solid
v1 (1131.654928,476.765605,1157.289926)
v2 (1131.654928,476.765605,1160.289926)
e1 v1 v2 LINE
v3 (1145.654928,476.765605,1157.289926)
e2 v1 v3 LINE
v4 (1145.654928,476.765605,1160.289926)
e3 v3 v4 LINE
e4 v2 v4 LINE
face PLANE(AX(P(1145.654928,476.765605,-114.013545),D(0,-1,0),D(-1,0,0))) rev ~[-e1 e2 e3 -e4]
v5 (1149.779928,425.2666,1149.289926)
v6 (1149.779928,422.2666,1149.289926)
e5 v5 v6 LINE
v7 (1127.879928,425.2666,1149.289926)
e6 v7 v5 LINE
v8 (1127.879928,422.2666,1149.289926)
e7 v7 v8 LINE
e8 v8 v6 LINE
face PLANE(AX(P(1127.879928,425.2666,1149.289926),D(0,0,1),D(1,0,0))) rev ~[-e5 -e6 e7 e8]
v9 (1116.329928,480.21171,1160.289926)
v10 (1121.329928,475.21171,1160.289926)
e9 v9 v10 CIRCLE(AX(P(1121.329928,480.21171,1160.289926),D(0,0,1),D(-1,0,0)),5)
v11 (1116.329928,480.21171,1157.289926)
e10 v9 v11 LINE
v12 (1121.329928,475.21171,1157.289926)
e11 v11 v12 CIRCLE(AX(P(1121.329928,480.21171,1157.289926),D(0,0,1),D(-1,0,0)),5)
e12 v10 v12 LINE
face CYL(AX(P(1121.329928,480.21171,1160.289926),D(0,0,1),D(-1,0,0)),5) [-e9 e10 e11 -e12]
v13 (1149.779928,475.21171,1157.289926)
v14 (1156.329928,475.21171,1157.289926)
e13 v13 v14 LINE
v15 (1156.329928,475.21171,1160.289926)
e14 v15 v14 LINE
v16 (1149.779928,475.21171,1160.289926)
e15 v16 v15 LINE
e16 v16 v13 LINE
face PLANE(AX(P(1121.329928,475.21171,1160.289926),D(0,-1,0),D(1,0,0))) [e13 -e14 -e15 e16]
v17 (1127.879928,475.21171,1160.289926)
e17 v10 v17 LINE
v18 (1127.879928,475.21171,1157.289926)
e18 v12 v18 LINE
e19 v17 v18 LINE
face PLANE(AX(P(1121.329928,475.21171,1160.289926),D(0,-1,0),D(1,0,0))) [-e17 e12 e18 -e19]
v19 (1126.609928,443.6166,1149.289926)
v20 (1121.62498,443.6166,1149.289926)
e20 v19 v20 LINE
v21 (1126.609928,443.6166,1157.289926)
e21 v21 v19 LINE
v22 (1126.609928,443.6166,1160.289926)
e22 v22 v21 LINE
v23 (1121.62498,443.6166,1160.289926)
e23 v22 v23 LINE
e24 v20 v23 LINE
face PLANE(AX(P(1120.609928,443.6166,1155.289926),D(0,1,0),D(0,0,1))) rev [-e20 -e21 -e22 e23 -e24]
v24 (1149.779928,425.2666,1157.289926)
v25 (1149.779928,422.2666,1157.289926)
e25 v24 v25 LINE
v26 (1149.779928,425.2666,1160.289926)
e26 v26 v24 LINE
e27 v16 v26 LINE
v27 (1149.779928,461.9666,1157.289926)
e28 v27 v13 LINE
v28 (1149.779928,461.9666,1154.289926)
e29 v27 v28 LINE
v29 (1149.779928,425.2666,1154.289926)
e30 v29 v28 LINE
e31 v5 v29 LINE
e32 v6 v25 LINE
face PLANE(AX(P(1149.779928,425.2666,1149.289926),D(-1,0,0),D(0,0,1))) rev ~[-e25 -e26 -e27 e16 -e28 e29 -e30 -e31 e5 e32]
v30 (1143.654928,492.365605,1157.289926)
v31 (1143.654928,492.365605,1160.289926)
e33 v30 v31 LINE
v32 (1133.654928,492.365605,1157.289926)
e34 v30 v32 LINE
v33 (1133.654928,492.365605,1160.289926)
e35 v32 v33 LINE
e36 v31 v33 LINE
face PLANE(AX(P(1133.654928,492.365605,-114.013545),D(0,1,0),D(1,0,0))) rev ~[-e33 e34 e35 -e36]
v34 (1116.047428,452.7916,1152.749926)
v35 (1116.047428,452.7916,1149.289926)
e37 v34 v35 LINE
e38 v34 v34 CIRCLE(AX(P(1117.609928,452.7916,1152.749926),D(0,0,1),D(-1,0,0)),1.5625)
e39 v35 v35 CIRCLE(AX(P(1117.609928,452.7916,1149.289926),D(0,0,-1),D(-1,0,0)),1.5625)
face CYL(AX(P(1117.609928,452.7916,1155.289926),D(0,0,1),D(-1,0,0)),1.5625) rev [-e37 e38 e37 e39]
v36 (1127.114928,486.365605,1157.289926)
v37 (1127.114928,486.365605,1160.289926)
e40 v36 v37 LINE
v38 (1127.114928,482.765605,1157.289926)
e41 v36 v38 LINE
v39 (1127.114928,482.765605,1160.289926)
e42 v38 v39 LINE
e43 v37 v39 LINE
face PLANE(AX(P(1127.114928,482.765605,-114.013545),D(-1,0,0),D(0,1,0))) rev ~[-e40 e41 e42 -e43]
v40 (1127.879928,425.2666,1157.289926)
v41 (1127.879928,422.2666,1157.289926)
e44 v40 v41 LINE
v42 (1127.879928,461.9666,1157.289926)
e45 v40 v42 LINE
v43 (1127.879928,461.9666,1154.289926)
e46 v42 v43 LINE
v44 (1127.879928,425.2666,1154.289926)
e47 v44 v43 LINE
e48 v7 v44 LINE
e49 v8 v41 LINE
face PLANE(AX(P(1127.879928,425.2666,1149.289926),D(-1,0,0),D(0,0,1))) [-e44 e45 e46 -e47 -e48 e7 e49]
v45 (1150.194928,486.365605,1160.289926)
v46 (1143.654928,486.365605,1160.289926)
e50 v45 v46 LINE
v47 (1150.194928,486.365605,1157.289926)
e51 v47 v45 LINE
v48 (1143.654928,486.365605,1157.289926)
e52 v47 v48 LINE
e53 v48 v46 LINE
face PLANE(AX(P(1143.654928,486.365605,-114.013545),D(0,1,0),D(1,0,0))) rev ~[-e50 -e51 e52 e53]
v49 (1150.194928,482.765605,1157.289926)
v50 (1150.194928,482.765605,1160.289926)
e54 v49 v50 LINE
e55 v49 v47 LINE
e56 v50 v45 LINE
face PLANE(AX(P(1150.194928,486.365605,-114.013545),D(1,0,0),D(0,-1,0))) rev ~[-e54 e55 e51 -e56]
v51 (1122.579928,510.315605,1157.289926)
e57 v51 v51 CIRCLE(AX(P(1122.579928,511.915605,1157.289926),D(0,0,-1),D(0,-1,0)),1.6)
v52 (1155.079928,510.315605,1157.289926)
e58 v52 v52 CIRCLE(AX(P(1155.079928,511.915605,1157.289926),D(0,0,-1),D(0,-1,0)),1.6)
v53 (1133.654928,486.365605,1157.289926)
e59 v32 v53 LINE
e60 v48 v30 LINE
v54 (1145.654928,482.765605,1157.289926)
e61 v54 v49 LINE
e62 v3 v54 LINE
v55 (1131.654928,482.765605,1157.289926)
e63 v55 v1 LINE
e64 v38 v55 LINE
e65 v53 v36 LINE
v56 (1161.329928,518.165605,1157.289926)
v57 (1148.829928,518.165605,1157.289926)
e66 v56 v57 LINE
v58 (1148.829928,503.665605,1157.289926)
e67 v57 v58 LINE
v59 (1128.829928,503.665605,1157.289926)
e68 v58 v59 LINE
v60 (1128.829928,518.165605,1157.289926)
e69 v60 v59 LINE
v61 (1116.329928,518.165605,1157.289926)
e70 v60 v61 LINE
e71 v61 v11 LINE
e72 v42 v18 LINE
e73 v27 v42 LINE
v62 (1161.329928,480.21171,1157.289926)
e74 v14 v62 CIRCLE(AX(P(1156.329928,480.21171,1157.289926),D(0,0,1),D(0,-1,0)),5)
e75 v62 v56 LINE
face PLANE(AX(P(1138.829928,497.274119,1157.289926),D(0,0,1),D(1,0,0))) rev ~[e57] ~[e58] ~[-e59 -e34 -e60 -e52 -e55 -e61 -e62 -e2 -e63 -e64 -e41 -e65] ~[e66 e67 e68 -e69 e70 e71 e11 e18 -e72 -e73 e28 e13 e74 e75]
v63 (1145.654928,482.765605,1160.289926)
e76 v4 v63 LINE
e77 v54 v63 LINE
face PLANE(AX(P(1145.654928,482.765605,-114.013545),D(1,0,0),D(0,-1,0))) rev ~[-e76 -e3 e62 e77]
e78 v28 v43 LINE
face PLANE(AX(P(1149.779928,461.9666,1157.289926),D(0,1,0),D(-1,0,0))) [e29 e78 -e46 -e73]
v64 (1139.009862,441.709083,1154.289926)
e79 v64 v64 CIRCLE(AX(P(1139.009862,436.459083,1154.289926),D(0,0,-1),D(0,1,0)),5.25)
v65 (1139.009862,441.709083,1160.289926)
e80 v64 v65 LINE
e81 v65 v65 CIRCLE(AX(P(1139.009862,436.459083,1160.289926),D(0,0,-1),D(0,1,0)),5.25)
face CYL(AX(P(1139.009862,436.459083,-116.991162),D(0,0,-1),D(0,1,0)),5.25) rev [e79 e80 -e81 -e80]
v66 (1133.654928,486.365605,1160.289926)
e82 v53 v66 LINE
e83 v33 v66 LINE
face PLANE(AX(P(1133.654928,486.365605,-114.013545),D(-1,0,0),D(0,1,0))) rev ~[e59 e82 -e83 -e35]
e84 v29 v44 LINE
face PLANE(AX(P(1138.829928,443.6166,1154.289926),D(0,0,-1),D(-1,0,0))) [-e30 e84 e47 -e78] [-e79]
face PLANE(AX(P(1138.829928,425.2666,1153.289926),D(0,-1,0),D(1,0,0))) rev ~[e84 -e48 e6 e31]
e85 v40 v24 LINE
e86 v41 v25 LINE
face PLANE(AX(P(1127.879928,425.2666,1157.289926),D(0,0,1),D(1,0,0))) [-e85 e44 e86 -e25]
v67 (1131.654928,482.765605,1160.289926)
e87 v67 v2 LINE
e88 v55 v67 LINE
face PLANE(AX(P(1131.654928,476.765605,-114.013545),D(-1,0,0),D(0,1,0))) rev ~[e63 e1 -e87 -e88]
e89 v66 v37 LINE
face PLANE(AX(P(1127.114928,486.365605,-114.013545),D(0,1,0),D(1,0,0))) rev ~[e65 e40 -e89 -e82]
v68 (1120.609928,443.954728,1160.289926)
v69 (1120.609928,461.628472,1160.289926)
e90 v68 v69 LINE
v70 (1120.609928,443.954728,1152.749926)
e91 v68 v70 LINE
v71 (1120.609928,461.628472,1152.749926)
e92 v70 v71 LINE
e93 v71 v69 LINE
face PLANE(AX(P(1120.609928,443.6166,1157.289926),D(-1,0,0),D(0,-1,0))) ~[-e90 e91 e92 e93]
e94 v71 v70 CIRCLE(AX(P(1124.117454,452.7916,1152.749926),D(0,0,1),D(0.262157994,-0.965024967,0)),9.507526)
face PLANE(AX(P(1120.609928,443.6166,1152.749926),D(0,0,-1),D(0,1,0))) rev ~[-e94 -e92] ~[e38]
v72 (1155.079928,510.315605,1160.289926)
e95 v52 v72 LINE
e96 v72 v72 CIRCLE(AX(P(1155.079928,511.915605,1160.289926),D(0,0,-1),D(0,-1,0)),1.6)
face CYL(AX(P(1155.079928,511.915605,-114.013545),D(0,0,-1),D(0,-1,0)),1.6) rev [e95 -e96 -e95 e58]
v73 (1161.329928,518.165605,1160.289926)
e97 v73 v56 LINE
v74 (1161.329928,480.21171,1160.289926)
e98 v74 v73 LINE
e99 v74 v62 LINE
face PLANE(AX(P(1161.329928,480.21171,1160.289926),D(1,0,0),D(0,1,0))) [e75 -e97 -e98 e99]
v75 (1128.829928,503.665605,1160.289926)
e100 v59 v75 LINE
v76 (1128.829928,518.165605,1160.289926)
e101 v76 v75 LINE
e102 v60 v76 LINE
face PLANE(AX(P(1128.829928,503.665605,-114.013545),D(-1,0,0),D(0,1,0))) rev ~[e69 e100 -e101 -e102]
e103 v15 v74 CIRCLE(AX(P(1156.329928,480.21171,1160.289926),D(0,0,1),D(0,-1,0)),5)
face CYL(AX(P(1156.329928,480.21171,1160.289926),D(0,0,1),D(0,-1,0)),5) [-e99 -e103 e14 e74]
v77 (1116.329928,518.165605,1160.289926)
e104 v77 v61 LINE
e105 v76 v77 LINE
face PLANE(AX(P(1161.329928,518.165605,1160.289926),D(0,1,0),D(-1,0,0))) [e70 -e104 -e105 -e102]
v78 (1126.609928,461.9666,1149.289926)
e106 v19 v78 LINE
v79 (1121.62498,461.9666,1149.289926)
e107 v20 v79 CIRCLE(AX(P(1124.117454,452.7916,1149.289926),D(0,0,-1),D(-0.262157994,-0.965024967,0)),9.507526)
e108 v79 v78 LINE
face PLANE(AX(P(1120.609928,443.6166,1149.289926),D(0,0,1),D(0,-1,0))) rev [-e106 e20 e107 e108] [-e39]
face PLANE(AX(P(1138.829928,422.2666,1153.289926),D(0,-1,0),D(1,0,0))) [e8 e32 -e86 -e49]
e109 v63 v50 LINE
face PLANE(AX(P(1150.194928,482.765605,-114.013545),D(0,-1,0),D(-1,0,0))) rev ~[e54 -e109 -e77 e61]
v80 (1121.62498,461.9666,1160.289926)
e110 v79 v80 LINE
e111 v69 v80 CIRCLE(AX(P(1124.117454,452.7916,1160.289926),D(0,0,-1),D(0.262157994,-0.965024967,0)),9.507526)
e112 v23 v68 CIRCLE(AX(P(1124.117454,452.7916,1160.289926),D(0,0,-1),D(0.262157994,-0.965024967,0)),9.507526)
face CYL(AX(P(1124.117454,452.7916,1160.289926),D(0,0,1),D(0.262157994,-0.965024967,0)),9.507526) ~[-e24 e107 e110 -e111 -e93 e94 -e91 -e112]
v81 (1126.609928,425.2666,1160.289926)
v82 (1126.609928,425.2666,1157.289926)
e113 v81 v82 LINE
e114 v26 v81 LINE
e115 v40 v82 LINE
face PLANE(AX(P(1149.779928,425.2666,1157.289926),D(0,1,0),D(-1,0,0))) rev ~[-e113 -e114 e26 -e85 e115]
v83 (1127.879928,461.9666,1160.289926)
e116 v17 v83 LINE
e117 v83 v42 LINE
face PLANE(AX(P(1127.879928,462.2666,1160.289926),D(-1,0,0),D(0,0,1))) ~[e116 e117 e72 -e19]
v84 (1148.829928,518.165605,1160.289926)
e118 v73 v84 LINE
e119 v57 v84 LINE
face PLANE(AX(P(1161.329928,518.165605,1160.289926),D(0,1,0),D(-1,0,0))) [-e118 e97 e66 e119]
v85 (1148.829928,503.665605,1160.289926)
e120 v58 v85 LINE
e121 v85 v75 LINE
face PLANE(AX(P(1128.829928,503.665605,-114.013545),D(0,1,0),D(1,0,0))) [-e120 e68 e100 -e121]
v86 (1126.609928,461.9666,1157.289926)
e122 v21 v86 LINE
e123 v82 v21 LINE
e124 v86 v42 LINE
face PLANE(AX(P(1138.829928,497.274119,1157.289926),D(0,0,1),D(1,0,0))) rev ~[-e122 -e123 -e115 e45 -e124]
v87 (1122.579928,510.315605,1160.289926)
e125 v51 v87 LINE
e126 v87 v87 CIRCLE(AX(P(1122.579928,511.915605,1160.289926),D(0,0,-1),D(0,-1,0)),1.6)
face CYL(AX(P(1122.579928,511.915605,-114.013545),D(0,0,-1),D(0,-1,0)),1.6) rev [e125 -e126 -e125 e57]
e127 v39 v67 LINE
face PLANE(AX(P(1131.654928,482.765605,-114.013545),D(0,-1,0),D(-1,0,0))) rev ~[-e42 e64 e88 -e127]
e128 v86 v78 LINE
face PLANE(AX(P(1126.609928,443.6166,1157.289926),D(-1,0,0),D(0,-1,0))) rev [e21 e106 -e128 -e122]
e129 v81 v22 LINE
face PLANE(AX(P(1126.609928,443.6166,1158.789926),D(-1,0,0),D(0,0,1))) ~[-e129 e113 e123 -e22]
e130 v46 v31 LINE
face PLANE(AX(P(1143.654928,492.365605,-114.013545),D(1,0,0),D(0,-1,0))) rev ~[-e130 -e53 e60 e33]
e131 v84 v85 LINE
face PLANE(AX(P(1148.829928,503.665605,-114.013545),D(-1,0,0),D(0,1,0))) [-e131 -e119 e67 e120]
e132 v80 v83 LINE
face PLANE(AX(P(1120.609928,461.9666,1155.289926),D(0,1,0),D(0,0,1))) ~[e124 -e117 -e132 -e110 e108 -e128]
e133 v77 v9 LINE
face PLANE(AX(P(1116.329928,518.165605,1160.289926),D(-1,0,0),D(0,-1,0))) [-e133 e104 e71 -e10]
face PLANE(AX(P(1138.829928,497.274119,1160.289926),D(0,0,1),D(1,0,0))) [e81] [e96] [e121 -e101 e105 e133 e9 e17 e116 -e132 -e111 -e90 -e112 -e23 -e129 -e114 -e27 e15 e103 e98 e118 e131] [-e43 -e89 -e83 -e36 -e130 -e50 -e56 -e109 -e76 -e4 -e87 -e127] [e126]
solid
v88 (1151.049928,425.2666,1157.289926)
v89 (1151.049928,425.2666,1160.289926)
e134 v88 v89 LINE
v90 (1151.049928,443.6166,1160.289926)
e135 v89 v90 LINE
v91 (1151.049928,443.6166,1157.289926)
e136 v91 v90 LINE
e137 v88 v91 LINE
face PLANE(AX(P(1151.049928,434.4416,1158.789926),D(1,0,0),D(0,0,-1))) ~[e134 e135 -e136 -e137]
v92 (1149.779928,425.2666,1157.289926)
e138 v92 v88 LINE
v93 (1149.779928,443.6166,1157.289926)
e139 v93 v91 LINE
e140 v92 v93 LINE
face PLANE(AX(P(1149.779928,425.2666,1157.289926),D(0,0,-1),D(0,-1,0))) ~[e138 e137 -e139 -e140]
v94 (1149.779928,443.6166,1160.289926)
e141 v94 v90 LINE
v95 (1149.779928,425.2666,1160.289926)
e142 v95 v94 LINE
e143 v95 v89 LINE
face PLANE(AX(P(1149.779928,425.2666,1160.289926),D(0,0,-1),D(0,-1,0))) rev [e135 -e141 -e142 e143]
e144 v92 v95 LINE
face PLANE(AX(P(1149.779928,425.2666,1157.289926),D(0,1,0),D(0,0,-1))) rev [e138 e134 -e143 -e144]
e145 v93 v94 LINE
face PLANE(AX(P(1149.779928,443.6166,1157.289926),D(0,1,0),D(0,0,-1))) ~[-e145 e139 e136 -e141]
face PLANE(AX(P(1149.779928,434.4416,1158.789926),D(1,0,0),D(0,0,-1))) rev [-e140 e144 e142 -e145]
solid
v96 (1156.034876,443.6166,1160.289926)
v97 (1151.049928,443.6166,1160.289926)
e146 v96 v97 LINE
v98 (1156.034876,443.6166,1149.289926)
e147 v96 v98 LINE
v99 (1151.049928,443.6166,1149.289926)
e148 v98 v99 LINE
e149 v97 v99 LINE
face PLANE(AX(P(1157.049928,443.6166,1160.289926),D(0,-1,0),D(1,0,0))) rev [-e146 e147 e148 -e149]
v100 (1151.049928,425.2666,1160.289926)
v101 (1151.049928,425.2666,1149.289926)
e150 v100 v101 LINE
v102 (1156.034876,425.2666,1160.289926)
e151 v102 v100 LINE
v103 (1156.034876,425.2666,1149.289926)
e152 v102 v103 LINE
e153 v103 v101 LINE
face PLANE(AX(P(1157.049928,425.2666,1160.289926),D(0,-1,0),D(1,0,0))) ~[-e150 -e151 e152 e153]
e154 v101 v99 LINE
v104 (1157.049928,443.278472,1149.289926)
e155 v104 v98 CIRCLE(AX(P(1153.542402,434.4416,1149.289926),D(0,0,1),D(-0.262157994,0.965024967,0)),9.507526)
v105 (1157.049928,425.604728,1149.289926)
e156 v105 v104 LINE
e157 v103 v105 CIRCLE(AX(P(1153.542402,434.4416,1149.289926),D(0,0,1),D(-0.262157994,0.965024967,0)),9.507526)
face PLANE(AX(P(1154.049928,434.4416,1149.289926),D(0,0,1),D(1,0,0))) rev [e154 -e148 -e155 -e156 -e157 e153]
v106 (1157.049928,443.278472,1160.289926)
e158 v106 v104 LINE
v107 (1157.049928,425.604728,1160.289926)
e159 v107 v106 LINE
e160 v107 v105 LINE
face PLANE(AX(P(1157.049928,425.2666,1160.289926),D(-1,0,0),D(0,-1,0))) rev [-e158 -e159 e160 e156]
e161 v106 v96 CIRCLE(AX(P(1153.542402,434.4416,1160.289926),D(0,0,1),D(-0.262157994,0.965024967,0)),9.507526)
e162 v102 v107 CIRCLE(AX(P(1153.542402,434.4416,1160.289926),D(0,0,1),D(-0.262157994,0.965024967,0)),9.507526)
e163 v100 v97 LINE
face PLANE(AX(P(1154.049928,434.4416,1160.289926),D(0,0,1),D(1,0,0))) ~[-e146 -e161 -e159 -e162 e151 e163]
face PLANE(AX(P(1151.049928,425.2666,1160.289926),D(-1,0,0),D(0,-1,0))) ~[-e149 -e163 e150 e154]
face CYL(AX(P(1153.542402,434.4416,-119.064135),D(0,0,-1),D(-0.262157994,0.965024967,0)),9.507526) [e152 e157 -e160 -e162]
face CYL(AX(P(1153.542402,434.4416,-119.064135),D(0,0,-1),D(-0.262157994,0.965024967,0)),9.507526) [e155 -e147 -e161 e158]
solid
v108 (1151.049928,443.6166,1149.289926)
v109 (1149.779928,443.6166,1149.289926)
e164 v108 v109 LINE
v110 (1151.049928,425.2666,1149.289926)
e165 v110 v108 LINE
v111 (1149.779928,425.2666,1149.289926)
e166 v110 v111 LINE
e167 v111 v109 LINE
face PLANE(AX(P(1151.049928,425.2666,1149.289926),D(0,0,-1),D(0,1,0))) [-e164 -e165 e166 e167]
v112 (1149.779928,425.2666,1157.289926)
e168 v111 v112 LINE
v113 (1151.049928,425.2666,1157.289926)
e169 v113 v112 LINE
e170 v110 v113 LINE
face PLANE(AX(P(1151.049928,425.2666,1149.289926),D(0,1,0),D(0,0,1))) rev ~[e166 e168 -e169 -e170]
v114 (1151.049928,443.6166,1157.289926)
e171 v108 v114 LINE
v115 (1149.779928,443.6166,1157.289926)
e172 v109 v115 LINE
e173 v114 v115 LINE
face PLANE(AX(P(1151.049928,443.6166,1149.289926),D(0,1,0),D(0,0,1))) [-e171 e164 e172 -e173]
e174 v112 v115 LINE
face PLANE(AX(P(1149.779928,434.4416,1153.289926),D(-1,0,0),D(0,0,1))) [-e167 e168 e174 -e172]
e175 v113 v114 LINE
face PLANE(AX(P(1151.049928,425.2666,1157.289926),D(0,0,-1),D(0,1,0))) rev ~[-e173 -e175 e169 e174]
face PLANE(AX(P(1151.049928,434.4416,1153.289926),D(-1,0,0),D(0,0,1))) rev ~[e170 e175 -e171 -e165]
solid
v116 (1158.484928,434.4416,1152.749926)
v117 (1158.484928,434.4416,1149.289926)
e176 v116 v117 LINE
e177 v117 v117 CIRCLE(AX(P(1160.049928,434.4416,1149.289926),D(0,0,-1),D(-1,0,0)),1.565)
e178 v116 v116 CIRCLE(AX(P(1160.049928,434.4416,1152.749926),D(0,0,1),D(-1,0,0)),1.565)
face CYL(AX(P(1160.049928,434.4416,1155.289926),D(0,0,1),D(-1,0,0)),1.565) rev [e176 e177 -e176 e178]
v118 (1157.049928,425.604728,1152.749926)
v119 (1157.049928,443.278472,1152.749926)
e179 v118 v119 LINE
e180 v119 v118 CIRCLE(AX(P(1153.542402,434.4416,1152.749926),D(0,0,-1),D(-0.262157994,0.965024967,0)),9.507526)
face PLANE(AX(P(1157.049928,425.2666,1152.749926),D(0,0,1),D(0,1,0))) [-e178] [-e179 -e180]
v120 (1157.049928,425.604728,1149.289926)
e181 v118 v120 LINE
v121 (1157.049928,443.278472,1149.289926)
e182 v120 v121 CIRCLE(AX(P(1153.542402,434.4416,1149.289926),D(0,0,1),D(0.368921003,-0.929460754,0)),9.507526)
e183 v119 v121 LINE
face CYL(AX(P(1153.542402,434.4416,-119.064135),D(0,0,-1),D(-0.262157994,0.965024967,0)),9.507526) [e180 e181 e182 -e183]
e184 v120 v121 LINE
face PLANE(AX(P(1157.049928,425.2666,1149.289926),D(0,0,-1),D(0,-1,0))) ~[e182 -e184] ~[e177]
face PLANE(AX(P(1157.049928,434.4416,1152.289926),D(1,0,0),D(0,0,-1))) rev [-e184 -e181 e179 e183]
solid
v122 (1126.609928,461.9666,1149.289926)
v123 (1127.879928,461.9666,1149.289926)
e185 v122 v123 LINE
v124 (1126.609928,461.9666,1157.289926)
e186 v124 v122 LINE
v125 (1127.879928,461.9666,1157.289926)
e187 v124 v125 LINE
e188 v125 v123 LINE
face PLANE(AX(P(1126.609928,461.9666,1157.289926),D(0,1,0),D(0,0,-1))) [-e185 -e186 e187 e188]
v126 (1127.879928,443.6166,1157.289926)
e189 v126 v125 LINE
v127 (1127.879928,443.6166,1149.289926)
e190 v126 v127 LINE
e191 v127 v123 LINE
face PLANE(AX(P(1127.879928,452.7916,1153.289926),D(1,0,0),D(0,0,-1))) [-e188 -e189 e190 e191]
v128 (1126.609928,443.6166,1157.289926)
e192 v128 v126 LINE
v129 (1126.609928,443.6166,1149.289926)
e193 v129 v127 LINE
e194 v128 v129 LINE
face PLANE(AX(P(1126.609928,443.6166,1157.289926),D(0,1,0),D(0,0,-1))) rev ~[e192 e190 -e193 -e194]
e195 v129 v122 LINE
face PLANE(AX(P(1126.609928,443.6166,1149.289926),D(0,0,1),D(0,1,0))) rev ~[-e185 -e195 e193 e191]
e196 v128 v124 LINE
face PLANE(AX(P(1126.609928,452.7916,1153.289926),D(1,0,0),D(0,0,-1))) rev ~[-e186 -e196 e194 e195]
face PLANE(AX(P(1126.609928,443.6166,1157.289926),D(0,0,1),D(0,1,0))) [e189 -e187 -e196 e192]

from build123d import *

# Parameters (mm, degrees)
BOSS_EXTRUDE1_DEPTH      = 17.806228865
BOSS_EXTRUDE2_DEPTH      = 3
SKETCH5_W                = 21.9
SKETCH5_H                = 3
BOSS_EXTRUDE3_DEPTH      = 37
CUT_EXTRUDE1_REACH       = 1273.855
SKETCH7_R                = 5.25
SKETCH8_W                = 3
SKETCH8_H                = 36.7
BOSS_EXTRUDE4_DEPTH      = 1.27
SKETCH9_W                = 3
SKETCH9_H                = 18.35
BOSS_EXTRUDE5_DEPTH      = 6
SKETCH11_W               = 6
SKETCH11_H               = 18.35
BOSS_EXTRUDE6_DEPTH      = 8
SKETCH12_W               = 6
SKETCH12_H               = 18.35
BOSS_EXTRUDE7_DEPTH      = 6
SKETCH14_R               = 1.5625
CUT_EXTRUDE2_DEPTH       = 1272.783249002
CUT_EXTRUDE3_DEPTH       = 1272.855217677
SKETCH17_R               = 1.6
CUT_EXTRUDE4_DEPTH       = 1272.855217677
SKETCH18_R               = 2.5
CUT_EXTRUDE5_DEPTH       = 3
FILLET8_R                = 2
SKETCH19_W               = 3
SKETCH19_H               = 18.35
BOSS_EXTRUDE9_DEPTH      = 1.27
SKETCH20_W               = 6
SKETCH20_H               = 18.35
BOSS_EXTRUDE10_DEPTH     = 11
SKETCH21_W               = 6
SKETCH21_H               = 18.35
BOSS_EXTRUDE12_DEPTH     = 6
SKETCH22_R               = 1.565
CUT_EXTRUDE6_DEPTH       = 1274.354061352
CUT_EXTRUDE7_DEPTH       = 1274.354061352
CUT_EXTRUDE7_DEPTH_BACK  = 1274.354061352
CUT_EXTRUDE11_DEPTH      = 1272.593907123
CUT_EXTRUDE11_DEPTH_BACK = 1272.593907123
SKETCH29_W               = 17.806228865
SKETCH29_H               = 21.127306801
CUT_EXTRUDE12_DEPTH      = 1271.750455843
CUT_EXTRUDE12_DEPTH_BACK = 1271.750455843
SKETCH30_W               = 45
SKETCH30_H               = 36.649004673
BOSS_EXTRUDE14_DEPTH     = 3
CUT_EXTRUDE13_DEPTH      = 1274.303470735
CUT_EXTRUDE13_DEPTH_BACK = 1274.303470735
CUT_EXTRUDE15_DEPTH      = 1274.303470735
CUT_EXTRUDE15_DEPTH_BACK = 1274.303470735
SKETCH35_W               = 20
SKETCH35_H               = 14.5
CUT_EXTRUDE16_DEPTH      = 1274.303470735
CUT_EXTRUDE16_DEPTH_BACK = 1274.303470735
SKETCH36_R               = 1.6
SKETCH37_W               = 21.9
SKETCH37_H               = 36.7
BOSS_EXTRUDE16_DEPTH     = 3
CUT_EXTRUDE17_DEPTH      = 1274.281087814
CUT_EXTRUDE17_DEPTH_BACK = 1274.281087814
SKETCH38_R               = 5.25
SKETCH39_W               = 21.9
SKETCH39_H               = 8
BOSS_EXTRUDE17_DEPTH     = 3
SKETCH40_W               = 8
SKETCH40_H               = 18.35
BOSS_EXTRUDE19_DEPTH     = 1.27
SKETCH41_W               = 8
SKETCH41_H               = 18.35
BOSS_EXTRUDE20_DEPTH     = 1.27
SKETCH42_W               = 7.54
SKETCH42_H               = 18.35
CUT_EXTRUDE18_DEPTH      = 1272.443848437
SKETCH43_W               = 7.54
SKETCH43_H               = 18.35
CUT_EXTRUDE19_DEPTH      = 1272.443848437


with BuildPart() as part:
    # Sketch1 → Boss-Extrude1 (new body)
    with BuildSketch(Plane(origin=(0, 0, 1119.483697074), x_dir=(-1, 0, 0), z_dir=(0, 0, -1))):
        with BuildLine():
            Line((-1161.329927858, 505.6656047), (-1161.329927858, 518.1656047))
            Line((-1161.329927858, 518.1656047), (-1148.829927858, 518.1656047))
            Line((-1148.829927858, 518.1656047), (-1148.829927858, 505.6656047))
            add(Edge.make_bspline(
                [(-1148.829927858, 505.6656047), (-1142.163261192, 505.6656047), (-1135.496594525, 505.6656047), (-1128.829927858, 505.6656047)],
                knots=[0.277777778, 0.277777778, 0.277777778, 0.277777778, 0.722222222, 0.722222222, 0.722222222, 0.722222222], degree=3))
            Line((-1128.829927858, 505.6656047), (-1128.829927858, 518.1656047))
            Line((-1128.829927858, 518.1656047), (-1116.329927858, 518.1656047))
            Line((-1116.329927858, 518.1656047), (-1116.329927858, 505.6656047))
            ThreePointArc((-1116.329927858, 505.6656047), (-1138.829927858, 497.038297899), (-1161.329927858, 505.6656047))
        make_face()
    extrude(amount=BOSS_EXTRUDE1_DEPTH)

    # Sketch4 → Boss-Extrude2 (add)
    with BuildSketch(Plane(origin=(0, 0, 1101.677468208), x_dir=(-1, 0, 0), z_dir=(0, 0, -1))):
        with BuildLine():
            Line((-1149.779927858, 462.266600027), (-1149.779927858, 489.392833753))
            ThreePointArc((-1149.779927858, 489.392833753), (-1152.708860047, 496.463901565), (-1159.779927858, 499.392833753))
            Line((-1159.779927858, 499.392833753), (-1161.329927858, 499.392833753))
            Line((-1161.329927858, 499.392833753), (-1161.329927858, 511.9156047))
            Line((-1161.329927858, 511.9156047), (-1116.329927858, 511.9156047))
            Line((-1116.329927858, 511.9156047), (-1116.329927858, 499.392833753))
            Line((-1116.329927858, 499.392833753), (-1117.879927858, 499.392833753))
            ThreePointArc((-1117.879927858, 499.392833753), (-1124.95099567, 496.463901565), (-1127.879927858, 489.392833753))
            Line((-1127.879927858, 489.392833753), (-1127.879927858, 462.266600027))
            Line((-1127.879927858, 462.266600027), (-1149.779927858, 462.266600027))
        make_face()
    extrude(amount=BOSS_EXTRUDE2_DEPTH)

    # Sketch5 → Boss-Extrude3 (add)
    with BuildSketch(Plane.XZ.offset(-462.266600027)):
        with Locations((1138.829927858, 1100.177468208)):
            Rectangle(SKETCH5_W, SKETCH5_H)
    extrude(amount=BOSS_EXTRUDE3_DEPTH)

    # Sketch7 → Cut-Extrude1 (cut, up to next)
    with BuildSketch(Plane(origin=(0, 0, 1098.677468208), x_dir=(-1, 0, 0), z_dir=(0, 0, -1)), mode=Mode.PRIVATE) as cut_extrude1_sk1:
        with Locations(Location((-1139.009861583, 436.459083359, 0), (0, 0, 90))):
            Circle(SKETCH7_R)
    cut_extrude1_tool1 = extrude(cut_extrude1_sk1.sketch, amount=-CUT_EXTRUDE1_REACH, mode=Mode.PRIVATE) & part.part
    add(cut_extrude1_tool1.solids().sort_by_distance((1139.009862, 436.459083, 1098.677468))[0], mode=Mode.SUBTRACT)



with BuildPart() as body_2:
    # Sketch8 → Boss-Extrude4 (new body)
    with BuildSketch(Plane.ZY.offset(-1127.879927858)):
        with Locations((1100.177468208, 443.616600027)):
            Rectangle(SKETCH8_W, SKETCH8_H)
    extrude(amount=BOSS_EXTRUDE4_DEPTH)


with BuildPart() as part_1:
    add(part.part)

    add(body_2.part)  # Boss-Extrude5 merges body 2
    # Sketch9 → Boss-Extrude5 (add)
    with BuildSketch(Plane.ZY.offset(-1126.609927858)):
        with Locations((1100.177468208, 452.791600027)):
            Rectangle(SKETCH9_W, SKETCH9_H)
    extrude(amount=BOSS_EXTRUDE5_DEPTH)

    # Sketch11 → Boss-Extrude6 (add)
    with BuildSketch(Plane.XY.offset(1101.677468208)):
        with Locations((1123.609927858, 452.791600027)):
            Rectangle(SKETCH11_W, SKETCH11_H)
    extrude(amount=BOSS_EXTRUDE6_DEPTH)

    # Sketch12 → Boss-Extrude7 (add)
    with BuildSketch(Plane.ZY.offset(-1120.609927858)):
        with Locations((1106.677468208, 452.791600027)):
            Rectangle(SKETCH12_W, SKETCH12_H)
    extrude(amount=BOSS_EXTRUDE7_DEPTH)

    # Sketch14 → Cut-Extrude2 (cut, through all)
    with BuildSketch(Plane(origin=(0, 0, 1103.677468208), x_dir=(-1, 0, 0), z_dir=(0, 0, -1))):
        with Locations((-1117.609927858, 452.791600027)):
            Circle(SKETCH14_R)
    extrude(amount=-CUT_EXTRUDE2_DEPTH, mode=Mode.SUBTRACT)

    # Sketch16 → Cut-Extrude3 (cut, through all)
    with BuildSketch(Plane(origin=(0, 0, 1098.677468208), x_dir=(-1, 0, 0), z_dir=(0, 0, -1))):
        with BuildLine():
            Line((-1126.609927858, 461.966600027), (-1126.609927858, 463.878724732))
            Line((-1126.609927858, 463.878724732), (-1111.609927858, 463.878724732))
            Line((-1111.609927858, 463.878724732), (-1111.609927858, 441.878724732))
            Line((-1111.609927858, 441.878724732), (-1126.609927858, 441.878724732))
            Line((-1126.609927858, 441.878724732), (-1126.609927858, 443.616600027))
            ThreePointArc((-1126.609927858, 443.616600027), (-1114.609927858, 452.791600027), (-1126.609927858, 461.966600027))
        make_face()
    extrude(amount=-CUT_EXTRUDE3_DEPTH, mode=Mode.SUBTRACT)

    # Sketch17 → Cut-Extrude4 (cut, through all)
    with BuildSketch(Plane(origin=(0, 0, 1098.677468208), x_dir=(-1, 0, 0), z_dir=(0, 0, -1))):
        with Locations(Location((-1122.579927858, 511.9156047, 0), (0, 0, 90))):
            Circle(SKETCH17_R)
        with Locations(Location((-1155.079927858, 511.9156047, 0), (0, 0, 90))):
            Circle(SKETCH17_R)
    extrude(amount=-CUT_EXTRUDE4_DEPTH, mode=Mode.SUBTRACT)

    # Sketch18 → Cut-Extrude5 (cut)
    with BuildSketch(Plane(origin=(0, 0, 1098.677468208), x_dir=(-1, 0, 0), z_dir=(0, 0, -1))):
        with Locations((-1155.079927858, 511.9156047)):
            Circle(SKETCH18_R)
        with Locations((-1122.579927858, 511.9156047)):
            Circle(SKETCH18_R)
    extrude(amount=-CUT_EXTRUDE5_DEPTH, mode=Mode.SUBTRACT)

    # Fillet8
    fillet8_edges = [part_1.edges().sort_by_distance(p)[0] for p in [
        (1138.829927858, 505.6656047, 1119.483697074),
    ]]
    fillet(fillet8_edges, radius=FILLET8_R)


with BuildPart() as body_2_2:
    # Sketch19 → Boss-Extrude9 (new body)
    with BuildSketch(Plane(origin=(1149.779927858, 0, 0), x_dir=(0, 0, -1), z_dir=(1, 0, 0))):
        with Locations((-1100.177468208, 434.441600027)):
            Rectangle(SKETCH19_W, SKETCH19_H)
    extrude(amount=BOSS_EXTRUDE9_DEPTH)


with BuildPart() as body_3:
    # Sketch20 → Boss-Extrude10 (new body)
    with BuildSketch(Plane(origin=(0, 0, 1098.677468208), x_dir=(-1, 0, 0), z_dir=(0, 0, -1))):
        with Locations((-1154.049927858, 434.441600027)):
            Rectangle(SKETCH20_W, SKETCH20_H)
    extrude(amount=-BOSS_EXTRUDE10_DEPTH)


with BuildPart() as body_4:
    # Sketch21 → Boss-Extrude12 (new body)
    with BuildSketch(Plane(origin=(1157.049927858, 0, 0), x_dir=(0, 0, -1), z_dir=(1, 0, 0))):
        with Locations((-1106.677468208, 434.441600027)):
            Rectangle(SKETCH21_W, SKETCH21_H)
    extrude(amount=BOSS_EXTRUDE12_DEPTH)

    # Sketch22 → Cut-Extrude6 (cut, through all)
    with BuildSketch(Plane(origin=(0, 0, 1103.677468208), x_dir=(-1, 0, 0), z_dir=(0, 0, -1))):
        with Locations((-1160.049927858, 434.441600027)):
            Circle(SKETCH22_R)
    extrude(amount=-CUT_EXTRUDE6_DEPTH, mode=Mode.SUBTRACT)


with BuildPart() as cut_extrude7_tool:
    # Sketch23 → Cut-Extrude7 (new, two sides: drawn at the far end of the back side and taken through both)
    with BuildSketch(Plane(origin=(0, 0, 1103.677468208), x_dir=(-1, 0, 0), z_dir=(0, 0, -1)).offset(-CUT_EXTRUDE7_DEPTH_BACK)):
        with BuildLine():
            Line((-1151.049927858, 425.266600027), (-1151.049927858, 419.441600027))
            Line((-1151.049927858, 419.441600027), (-1166.049927858, 419.441600027))
            Line((-1166.049927858, 419.441600027), (-1166.049927858, 449.441600027))
            Line((-1166.049927858, 449.441600027), (-1151.049927858, 449.441600027))
            Line((-1151.049927858, 449.441600027), (-1151.049927858, 443.616600027))
            ThreePointArc((-1151.049927858, 443.616600027), (-1163.049927858, 434.441600027), (-1151.049927858, 425.266600027))
        make_face()
    extrude(amount=CUT_EXTRUDE7_DEPTH + CUT_EXTRUDE7_DEPTH_BACK)


with BuildPart() as body_3_1:
    add(body_3.part)

    # Cut-Extrude7: cut by cut_extrude7_tool
    add(cut_extrude7_tool.part, mode=Mode.SUBTRACT)


with BuildPart() as body_4_1:
    add(body_4.part)

    # Cut-Extrude7: cut by cut_extrude7_tool
    add(cut_extrude7_tool.part, mode=Mode.SUBTRACT)


with BuildPart() as body_5:
    # Mirror4: mirrored copy
    add(part_1.part.mirror(Plane.XY.offset(1129.483697074)))

    # Sketch29 → Cut-Extrude11 (cut, two sides: drawn at the far end of the back side and taken through both)
    with BuildSketch(Plane(origin=(1161.329927858, 0, 0), x_dir=(0, 0, -1), z_dir=(1, 0, 0)).offset(-CUT_EXTRUDE11_DEPTH_BACK)):
        with Locations((-1148.386811507, 507.6019513)):
            Rectangle(SKETCH29_W, SKETCH29_H)
    extrude(amount=CUT_EXTRUDE11_DEPTH + CUT_EXTRUDE11_DEPTH_BACK, mode=Mode.SUBTRACT)

    # Sketch30 → Cut-Extrude12 (cut, two sides: drawn at the far end of the back side and taken through both)
    with BuildSketch(Plane(origin=(0, 0, 1157.289925939), x_dir=(-1, 0, 0), z_dir=(0, 0, -1)).offset(-CUT_EXTRUDE12_DEPTH_BACK)):
        with Locations((-1138.829927858, 493.591102363)):
            Rectangle(SKETCH30_W, SKETCH30_H)
    extrude(amount=CUT_EXTRUDE12_DEPTH + CUT_EXTRUDE12_DEPTH_BACK, mode=Mode.SUBTRACT)

    # Sketch32 → Boss-Extrude14 (add)
    with BuildSketch(Plane.XY.offset(1160.289925939)):
        with BuildLine():
            Line((1116.329927858, 518.1656047), (1116.329927858, 480.211710413))
            ThreePointArc((1116.329927858, 480.211710413), (1117.794393952, 476.676176507), (1121.329927858, 475.211710413))
            Line((1121.329927858, 475.211710413), (1156.329927858, 475.211710413))
            ThreePointArc((1156.329927858, 475.211710413), (1159.865461764, 476.676176507), (1161.329927858, 480.211710413))
            Line((1161.329927858, 480.211710413), (1161.329927858, 518.1656047))
            Line((1161.329927858, 518.1656047), (1116.329927858, 518.1656047))
        make_face()
    extrude(amount=-BOSS_EXTRUDE14_DEPTH)

    # Sketch33 → Cut-Extrude13 (cut, two sides: drawn at the far end of the back side and taken through both)
    with BuildSketch(Plane.XY.offset(1160.289925939).offset(-CUT_EXTRUDE13_DEPTH_BACK)):
        Polygon((1145.654927858, 476.7656047), (1131.654927858, 476.7656047), (1131.654927858, 482.7656047), (1127.114927858, 482.7656047), (1127.114927858, 486.3656047), (1133.654927858, 486.3656047), (1133.654927858, 492.3656047), (1143.654927858, 492.3656047), (1143.654927858, 486.3656047), (1150.194927858, 486.3656047), (1150.194927858, 482.7656047), (1145.654927858, 482.7656047), align=None)
    extrude(amount=CUT_EXTRUDE13_DEPTH + CUT_EXTRUDE13_DEPTH_BACK, mode=Mode.SUBTRACT)

    # Sketch35 → Cut-Extrude15 (cut, two sides: drawn at the far end of the back side and taken through both)
    with BuildSketch(Plane.XY.offset(1160.289925939).offset(-CUT_EXTRUDE15_DEPTH_BACK)):
        with Locations((1138.829927858, 510.9156047)):
            Rectangle(SKETCH35_W, SKETCH35_H)
    extrude(amount=CUT_EXTRUDE15_DEPTH + CUT_EXTRUDE15_DEPTH_BACK, mode=Mode.SUBTRACT)

    # Sketch36 → Cut-Extrude16 (cut, two sides: drawn at the far end of the back side and taken through both)
    with BuildSketch(Plane.XY.offset(1160.289925939).offset(-CUT_EXTRUDE16_DEPTH_BACK)):
        with Locations(Location((1122.579927858, 511.9156047, 0), (0, 0, 270))):
            Circle(SKETCH36_R)
        with Locations(Location((1155.079927858, 511.9156047, 0), (0, 0, 270))):
            Circle(SKETCH36_R)
    extrude(amount=CUT_EXTRUDE16_DEPTH + CUT_EXTRUDE16_DEPTH_BACK, mode=Mode.SUBTRACT)



with BuildPart() as body_6:
    # Mirror4 2: mirrored copy
    add(body_2_2.part.mirror(Plane.XY.offset(1129.483697074)))


with BuildPart() as body_7:
    # Mirror4 3: mirrored copy
    add(body_4_1.part.mirror(Plane.XY.offset(1129.483697074)))

    # Sketch43 → Cut-Extrude19 (cut, through all)
    with BuildSketch(Plane(origin=(1157.049927858, 0, 0), x_dir=(0, 0, -1), z_dir=(1, 0, 0))):
        with Locations((-1156.519925939, 434.441600027)):
            Rectangle(SKETCH43_W, SKETCH43_H)
    extrude(amount=CUT_EXTRUDE19_DEPTH, mode=Mode.SUBTRACT)


with BuildPart() as body_8:
    # Mirror4 4: mirrored copy
    add(body_3_1.part.mirror(Plane.XY.offset(1129.483697074)))


with BuildPart() as body_5_2:
    # Sketch37 → Boss-Extrude16 (new body)
    with BuildSketch(Plane(origin=(0, 0, 1157.289925939), x_dir=(-1, 0, 0), z_dir=(0, 0, -1))):
        with Locations((-1138.829927858, 443.616600027)):
            Rectangle(SKETCH37_W, SKETCH37_H)
    extrude(amount=BOSS_EXTRUDE16_DEPTH)

    # Sketch38 → Cut-Extrude17 (cut, two sides: drawn at the far end of the back side and taken through both)
    with BuildSketch(Plane.XY.offset(1157.289925939).offset(-CUT_EXTRUDE17_DEPTH_BACK)):
        with Locations(Location((1139.009861583, 436.459083359, 0), (0, 0, 90))):
            Circle(SKETCH38_R)
    extrude(amount=CUT_EXTRUDE17_DEPTH + CUT_EXTRUDE17_DEPTH_BACK, mode=Mode.SUBTRACT)


with BuildPart() as body_5_1:
    add(body_5.part)

    add(body_5_2.part)  # Boss-Extrude17 merges body 5 2
    # Sketch39 → Boss-Extrude17 (add)
    with BuildSketch(Plane.XZ.offset(-425.266600027)):
        with Locations((1138.829927858, 1153.289925939)):
            Rectangle(SKETCH39_W, SKETCH39_H)
    extrude(amount=BOSS_EXTRUDE17_DEPTH)

    # Sketch42 → Cut-Extrude18 (cut, through all)
    with BuildSketch(Plane.ZY.offset(-1120.609927858)):
        with Locations((1156.519925939, 452.791600027)):
            Rectangle(SKETCH42_W, SKETCH42_H)
    extrude(amount=CUT_EXTRUDE18_DEPTH, mode=Mode.SUBTRACT)


with BuildPart() as body_5_3:
    # Sketch40 → Boss-Extrude19 (new body)
    with BuildSketch(Plane.ZY.offset(-1151.049927858)):
        with Locations((1153.289925939, 434.441600027)):
            Rectangle(SKETCH40_W, SKETCH40_H)
    extrude(amount=BOSS_EXTRUDE19_DEPTH)


with BuildPart() as body_6_2:
    # Sketch41 → Boss-Extrude20 (new body)
    with BuildSketch(Plane(origin=(1126.609927858, 0, 0), x_dir=(0, 0, -1), z_dir=(1, 0, 0))):
        with Locations((-1153.289925939, 452.791600027)):
            Rectangle(SKETCH41_W, SKETCH41_H)
    extrude(amount=BOSS_EXTRUDE20_DEPTH)


solid = Compound([body_6.part, body_7.part, body_8.part, body_5_1.part, body_5_3.part, body_6_2.part])
